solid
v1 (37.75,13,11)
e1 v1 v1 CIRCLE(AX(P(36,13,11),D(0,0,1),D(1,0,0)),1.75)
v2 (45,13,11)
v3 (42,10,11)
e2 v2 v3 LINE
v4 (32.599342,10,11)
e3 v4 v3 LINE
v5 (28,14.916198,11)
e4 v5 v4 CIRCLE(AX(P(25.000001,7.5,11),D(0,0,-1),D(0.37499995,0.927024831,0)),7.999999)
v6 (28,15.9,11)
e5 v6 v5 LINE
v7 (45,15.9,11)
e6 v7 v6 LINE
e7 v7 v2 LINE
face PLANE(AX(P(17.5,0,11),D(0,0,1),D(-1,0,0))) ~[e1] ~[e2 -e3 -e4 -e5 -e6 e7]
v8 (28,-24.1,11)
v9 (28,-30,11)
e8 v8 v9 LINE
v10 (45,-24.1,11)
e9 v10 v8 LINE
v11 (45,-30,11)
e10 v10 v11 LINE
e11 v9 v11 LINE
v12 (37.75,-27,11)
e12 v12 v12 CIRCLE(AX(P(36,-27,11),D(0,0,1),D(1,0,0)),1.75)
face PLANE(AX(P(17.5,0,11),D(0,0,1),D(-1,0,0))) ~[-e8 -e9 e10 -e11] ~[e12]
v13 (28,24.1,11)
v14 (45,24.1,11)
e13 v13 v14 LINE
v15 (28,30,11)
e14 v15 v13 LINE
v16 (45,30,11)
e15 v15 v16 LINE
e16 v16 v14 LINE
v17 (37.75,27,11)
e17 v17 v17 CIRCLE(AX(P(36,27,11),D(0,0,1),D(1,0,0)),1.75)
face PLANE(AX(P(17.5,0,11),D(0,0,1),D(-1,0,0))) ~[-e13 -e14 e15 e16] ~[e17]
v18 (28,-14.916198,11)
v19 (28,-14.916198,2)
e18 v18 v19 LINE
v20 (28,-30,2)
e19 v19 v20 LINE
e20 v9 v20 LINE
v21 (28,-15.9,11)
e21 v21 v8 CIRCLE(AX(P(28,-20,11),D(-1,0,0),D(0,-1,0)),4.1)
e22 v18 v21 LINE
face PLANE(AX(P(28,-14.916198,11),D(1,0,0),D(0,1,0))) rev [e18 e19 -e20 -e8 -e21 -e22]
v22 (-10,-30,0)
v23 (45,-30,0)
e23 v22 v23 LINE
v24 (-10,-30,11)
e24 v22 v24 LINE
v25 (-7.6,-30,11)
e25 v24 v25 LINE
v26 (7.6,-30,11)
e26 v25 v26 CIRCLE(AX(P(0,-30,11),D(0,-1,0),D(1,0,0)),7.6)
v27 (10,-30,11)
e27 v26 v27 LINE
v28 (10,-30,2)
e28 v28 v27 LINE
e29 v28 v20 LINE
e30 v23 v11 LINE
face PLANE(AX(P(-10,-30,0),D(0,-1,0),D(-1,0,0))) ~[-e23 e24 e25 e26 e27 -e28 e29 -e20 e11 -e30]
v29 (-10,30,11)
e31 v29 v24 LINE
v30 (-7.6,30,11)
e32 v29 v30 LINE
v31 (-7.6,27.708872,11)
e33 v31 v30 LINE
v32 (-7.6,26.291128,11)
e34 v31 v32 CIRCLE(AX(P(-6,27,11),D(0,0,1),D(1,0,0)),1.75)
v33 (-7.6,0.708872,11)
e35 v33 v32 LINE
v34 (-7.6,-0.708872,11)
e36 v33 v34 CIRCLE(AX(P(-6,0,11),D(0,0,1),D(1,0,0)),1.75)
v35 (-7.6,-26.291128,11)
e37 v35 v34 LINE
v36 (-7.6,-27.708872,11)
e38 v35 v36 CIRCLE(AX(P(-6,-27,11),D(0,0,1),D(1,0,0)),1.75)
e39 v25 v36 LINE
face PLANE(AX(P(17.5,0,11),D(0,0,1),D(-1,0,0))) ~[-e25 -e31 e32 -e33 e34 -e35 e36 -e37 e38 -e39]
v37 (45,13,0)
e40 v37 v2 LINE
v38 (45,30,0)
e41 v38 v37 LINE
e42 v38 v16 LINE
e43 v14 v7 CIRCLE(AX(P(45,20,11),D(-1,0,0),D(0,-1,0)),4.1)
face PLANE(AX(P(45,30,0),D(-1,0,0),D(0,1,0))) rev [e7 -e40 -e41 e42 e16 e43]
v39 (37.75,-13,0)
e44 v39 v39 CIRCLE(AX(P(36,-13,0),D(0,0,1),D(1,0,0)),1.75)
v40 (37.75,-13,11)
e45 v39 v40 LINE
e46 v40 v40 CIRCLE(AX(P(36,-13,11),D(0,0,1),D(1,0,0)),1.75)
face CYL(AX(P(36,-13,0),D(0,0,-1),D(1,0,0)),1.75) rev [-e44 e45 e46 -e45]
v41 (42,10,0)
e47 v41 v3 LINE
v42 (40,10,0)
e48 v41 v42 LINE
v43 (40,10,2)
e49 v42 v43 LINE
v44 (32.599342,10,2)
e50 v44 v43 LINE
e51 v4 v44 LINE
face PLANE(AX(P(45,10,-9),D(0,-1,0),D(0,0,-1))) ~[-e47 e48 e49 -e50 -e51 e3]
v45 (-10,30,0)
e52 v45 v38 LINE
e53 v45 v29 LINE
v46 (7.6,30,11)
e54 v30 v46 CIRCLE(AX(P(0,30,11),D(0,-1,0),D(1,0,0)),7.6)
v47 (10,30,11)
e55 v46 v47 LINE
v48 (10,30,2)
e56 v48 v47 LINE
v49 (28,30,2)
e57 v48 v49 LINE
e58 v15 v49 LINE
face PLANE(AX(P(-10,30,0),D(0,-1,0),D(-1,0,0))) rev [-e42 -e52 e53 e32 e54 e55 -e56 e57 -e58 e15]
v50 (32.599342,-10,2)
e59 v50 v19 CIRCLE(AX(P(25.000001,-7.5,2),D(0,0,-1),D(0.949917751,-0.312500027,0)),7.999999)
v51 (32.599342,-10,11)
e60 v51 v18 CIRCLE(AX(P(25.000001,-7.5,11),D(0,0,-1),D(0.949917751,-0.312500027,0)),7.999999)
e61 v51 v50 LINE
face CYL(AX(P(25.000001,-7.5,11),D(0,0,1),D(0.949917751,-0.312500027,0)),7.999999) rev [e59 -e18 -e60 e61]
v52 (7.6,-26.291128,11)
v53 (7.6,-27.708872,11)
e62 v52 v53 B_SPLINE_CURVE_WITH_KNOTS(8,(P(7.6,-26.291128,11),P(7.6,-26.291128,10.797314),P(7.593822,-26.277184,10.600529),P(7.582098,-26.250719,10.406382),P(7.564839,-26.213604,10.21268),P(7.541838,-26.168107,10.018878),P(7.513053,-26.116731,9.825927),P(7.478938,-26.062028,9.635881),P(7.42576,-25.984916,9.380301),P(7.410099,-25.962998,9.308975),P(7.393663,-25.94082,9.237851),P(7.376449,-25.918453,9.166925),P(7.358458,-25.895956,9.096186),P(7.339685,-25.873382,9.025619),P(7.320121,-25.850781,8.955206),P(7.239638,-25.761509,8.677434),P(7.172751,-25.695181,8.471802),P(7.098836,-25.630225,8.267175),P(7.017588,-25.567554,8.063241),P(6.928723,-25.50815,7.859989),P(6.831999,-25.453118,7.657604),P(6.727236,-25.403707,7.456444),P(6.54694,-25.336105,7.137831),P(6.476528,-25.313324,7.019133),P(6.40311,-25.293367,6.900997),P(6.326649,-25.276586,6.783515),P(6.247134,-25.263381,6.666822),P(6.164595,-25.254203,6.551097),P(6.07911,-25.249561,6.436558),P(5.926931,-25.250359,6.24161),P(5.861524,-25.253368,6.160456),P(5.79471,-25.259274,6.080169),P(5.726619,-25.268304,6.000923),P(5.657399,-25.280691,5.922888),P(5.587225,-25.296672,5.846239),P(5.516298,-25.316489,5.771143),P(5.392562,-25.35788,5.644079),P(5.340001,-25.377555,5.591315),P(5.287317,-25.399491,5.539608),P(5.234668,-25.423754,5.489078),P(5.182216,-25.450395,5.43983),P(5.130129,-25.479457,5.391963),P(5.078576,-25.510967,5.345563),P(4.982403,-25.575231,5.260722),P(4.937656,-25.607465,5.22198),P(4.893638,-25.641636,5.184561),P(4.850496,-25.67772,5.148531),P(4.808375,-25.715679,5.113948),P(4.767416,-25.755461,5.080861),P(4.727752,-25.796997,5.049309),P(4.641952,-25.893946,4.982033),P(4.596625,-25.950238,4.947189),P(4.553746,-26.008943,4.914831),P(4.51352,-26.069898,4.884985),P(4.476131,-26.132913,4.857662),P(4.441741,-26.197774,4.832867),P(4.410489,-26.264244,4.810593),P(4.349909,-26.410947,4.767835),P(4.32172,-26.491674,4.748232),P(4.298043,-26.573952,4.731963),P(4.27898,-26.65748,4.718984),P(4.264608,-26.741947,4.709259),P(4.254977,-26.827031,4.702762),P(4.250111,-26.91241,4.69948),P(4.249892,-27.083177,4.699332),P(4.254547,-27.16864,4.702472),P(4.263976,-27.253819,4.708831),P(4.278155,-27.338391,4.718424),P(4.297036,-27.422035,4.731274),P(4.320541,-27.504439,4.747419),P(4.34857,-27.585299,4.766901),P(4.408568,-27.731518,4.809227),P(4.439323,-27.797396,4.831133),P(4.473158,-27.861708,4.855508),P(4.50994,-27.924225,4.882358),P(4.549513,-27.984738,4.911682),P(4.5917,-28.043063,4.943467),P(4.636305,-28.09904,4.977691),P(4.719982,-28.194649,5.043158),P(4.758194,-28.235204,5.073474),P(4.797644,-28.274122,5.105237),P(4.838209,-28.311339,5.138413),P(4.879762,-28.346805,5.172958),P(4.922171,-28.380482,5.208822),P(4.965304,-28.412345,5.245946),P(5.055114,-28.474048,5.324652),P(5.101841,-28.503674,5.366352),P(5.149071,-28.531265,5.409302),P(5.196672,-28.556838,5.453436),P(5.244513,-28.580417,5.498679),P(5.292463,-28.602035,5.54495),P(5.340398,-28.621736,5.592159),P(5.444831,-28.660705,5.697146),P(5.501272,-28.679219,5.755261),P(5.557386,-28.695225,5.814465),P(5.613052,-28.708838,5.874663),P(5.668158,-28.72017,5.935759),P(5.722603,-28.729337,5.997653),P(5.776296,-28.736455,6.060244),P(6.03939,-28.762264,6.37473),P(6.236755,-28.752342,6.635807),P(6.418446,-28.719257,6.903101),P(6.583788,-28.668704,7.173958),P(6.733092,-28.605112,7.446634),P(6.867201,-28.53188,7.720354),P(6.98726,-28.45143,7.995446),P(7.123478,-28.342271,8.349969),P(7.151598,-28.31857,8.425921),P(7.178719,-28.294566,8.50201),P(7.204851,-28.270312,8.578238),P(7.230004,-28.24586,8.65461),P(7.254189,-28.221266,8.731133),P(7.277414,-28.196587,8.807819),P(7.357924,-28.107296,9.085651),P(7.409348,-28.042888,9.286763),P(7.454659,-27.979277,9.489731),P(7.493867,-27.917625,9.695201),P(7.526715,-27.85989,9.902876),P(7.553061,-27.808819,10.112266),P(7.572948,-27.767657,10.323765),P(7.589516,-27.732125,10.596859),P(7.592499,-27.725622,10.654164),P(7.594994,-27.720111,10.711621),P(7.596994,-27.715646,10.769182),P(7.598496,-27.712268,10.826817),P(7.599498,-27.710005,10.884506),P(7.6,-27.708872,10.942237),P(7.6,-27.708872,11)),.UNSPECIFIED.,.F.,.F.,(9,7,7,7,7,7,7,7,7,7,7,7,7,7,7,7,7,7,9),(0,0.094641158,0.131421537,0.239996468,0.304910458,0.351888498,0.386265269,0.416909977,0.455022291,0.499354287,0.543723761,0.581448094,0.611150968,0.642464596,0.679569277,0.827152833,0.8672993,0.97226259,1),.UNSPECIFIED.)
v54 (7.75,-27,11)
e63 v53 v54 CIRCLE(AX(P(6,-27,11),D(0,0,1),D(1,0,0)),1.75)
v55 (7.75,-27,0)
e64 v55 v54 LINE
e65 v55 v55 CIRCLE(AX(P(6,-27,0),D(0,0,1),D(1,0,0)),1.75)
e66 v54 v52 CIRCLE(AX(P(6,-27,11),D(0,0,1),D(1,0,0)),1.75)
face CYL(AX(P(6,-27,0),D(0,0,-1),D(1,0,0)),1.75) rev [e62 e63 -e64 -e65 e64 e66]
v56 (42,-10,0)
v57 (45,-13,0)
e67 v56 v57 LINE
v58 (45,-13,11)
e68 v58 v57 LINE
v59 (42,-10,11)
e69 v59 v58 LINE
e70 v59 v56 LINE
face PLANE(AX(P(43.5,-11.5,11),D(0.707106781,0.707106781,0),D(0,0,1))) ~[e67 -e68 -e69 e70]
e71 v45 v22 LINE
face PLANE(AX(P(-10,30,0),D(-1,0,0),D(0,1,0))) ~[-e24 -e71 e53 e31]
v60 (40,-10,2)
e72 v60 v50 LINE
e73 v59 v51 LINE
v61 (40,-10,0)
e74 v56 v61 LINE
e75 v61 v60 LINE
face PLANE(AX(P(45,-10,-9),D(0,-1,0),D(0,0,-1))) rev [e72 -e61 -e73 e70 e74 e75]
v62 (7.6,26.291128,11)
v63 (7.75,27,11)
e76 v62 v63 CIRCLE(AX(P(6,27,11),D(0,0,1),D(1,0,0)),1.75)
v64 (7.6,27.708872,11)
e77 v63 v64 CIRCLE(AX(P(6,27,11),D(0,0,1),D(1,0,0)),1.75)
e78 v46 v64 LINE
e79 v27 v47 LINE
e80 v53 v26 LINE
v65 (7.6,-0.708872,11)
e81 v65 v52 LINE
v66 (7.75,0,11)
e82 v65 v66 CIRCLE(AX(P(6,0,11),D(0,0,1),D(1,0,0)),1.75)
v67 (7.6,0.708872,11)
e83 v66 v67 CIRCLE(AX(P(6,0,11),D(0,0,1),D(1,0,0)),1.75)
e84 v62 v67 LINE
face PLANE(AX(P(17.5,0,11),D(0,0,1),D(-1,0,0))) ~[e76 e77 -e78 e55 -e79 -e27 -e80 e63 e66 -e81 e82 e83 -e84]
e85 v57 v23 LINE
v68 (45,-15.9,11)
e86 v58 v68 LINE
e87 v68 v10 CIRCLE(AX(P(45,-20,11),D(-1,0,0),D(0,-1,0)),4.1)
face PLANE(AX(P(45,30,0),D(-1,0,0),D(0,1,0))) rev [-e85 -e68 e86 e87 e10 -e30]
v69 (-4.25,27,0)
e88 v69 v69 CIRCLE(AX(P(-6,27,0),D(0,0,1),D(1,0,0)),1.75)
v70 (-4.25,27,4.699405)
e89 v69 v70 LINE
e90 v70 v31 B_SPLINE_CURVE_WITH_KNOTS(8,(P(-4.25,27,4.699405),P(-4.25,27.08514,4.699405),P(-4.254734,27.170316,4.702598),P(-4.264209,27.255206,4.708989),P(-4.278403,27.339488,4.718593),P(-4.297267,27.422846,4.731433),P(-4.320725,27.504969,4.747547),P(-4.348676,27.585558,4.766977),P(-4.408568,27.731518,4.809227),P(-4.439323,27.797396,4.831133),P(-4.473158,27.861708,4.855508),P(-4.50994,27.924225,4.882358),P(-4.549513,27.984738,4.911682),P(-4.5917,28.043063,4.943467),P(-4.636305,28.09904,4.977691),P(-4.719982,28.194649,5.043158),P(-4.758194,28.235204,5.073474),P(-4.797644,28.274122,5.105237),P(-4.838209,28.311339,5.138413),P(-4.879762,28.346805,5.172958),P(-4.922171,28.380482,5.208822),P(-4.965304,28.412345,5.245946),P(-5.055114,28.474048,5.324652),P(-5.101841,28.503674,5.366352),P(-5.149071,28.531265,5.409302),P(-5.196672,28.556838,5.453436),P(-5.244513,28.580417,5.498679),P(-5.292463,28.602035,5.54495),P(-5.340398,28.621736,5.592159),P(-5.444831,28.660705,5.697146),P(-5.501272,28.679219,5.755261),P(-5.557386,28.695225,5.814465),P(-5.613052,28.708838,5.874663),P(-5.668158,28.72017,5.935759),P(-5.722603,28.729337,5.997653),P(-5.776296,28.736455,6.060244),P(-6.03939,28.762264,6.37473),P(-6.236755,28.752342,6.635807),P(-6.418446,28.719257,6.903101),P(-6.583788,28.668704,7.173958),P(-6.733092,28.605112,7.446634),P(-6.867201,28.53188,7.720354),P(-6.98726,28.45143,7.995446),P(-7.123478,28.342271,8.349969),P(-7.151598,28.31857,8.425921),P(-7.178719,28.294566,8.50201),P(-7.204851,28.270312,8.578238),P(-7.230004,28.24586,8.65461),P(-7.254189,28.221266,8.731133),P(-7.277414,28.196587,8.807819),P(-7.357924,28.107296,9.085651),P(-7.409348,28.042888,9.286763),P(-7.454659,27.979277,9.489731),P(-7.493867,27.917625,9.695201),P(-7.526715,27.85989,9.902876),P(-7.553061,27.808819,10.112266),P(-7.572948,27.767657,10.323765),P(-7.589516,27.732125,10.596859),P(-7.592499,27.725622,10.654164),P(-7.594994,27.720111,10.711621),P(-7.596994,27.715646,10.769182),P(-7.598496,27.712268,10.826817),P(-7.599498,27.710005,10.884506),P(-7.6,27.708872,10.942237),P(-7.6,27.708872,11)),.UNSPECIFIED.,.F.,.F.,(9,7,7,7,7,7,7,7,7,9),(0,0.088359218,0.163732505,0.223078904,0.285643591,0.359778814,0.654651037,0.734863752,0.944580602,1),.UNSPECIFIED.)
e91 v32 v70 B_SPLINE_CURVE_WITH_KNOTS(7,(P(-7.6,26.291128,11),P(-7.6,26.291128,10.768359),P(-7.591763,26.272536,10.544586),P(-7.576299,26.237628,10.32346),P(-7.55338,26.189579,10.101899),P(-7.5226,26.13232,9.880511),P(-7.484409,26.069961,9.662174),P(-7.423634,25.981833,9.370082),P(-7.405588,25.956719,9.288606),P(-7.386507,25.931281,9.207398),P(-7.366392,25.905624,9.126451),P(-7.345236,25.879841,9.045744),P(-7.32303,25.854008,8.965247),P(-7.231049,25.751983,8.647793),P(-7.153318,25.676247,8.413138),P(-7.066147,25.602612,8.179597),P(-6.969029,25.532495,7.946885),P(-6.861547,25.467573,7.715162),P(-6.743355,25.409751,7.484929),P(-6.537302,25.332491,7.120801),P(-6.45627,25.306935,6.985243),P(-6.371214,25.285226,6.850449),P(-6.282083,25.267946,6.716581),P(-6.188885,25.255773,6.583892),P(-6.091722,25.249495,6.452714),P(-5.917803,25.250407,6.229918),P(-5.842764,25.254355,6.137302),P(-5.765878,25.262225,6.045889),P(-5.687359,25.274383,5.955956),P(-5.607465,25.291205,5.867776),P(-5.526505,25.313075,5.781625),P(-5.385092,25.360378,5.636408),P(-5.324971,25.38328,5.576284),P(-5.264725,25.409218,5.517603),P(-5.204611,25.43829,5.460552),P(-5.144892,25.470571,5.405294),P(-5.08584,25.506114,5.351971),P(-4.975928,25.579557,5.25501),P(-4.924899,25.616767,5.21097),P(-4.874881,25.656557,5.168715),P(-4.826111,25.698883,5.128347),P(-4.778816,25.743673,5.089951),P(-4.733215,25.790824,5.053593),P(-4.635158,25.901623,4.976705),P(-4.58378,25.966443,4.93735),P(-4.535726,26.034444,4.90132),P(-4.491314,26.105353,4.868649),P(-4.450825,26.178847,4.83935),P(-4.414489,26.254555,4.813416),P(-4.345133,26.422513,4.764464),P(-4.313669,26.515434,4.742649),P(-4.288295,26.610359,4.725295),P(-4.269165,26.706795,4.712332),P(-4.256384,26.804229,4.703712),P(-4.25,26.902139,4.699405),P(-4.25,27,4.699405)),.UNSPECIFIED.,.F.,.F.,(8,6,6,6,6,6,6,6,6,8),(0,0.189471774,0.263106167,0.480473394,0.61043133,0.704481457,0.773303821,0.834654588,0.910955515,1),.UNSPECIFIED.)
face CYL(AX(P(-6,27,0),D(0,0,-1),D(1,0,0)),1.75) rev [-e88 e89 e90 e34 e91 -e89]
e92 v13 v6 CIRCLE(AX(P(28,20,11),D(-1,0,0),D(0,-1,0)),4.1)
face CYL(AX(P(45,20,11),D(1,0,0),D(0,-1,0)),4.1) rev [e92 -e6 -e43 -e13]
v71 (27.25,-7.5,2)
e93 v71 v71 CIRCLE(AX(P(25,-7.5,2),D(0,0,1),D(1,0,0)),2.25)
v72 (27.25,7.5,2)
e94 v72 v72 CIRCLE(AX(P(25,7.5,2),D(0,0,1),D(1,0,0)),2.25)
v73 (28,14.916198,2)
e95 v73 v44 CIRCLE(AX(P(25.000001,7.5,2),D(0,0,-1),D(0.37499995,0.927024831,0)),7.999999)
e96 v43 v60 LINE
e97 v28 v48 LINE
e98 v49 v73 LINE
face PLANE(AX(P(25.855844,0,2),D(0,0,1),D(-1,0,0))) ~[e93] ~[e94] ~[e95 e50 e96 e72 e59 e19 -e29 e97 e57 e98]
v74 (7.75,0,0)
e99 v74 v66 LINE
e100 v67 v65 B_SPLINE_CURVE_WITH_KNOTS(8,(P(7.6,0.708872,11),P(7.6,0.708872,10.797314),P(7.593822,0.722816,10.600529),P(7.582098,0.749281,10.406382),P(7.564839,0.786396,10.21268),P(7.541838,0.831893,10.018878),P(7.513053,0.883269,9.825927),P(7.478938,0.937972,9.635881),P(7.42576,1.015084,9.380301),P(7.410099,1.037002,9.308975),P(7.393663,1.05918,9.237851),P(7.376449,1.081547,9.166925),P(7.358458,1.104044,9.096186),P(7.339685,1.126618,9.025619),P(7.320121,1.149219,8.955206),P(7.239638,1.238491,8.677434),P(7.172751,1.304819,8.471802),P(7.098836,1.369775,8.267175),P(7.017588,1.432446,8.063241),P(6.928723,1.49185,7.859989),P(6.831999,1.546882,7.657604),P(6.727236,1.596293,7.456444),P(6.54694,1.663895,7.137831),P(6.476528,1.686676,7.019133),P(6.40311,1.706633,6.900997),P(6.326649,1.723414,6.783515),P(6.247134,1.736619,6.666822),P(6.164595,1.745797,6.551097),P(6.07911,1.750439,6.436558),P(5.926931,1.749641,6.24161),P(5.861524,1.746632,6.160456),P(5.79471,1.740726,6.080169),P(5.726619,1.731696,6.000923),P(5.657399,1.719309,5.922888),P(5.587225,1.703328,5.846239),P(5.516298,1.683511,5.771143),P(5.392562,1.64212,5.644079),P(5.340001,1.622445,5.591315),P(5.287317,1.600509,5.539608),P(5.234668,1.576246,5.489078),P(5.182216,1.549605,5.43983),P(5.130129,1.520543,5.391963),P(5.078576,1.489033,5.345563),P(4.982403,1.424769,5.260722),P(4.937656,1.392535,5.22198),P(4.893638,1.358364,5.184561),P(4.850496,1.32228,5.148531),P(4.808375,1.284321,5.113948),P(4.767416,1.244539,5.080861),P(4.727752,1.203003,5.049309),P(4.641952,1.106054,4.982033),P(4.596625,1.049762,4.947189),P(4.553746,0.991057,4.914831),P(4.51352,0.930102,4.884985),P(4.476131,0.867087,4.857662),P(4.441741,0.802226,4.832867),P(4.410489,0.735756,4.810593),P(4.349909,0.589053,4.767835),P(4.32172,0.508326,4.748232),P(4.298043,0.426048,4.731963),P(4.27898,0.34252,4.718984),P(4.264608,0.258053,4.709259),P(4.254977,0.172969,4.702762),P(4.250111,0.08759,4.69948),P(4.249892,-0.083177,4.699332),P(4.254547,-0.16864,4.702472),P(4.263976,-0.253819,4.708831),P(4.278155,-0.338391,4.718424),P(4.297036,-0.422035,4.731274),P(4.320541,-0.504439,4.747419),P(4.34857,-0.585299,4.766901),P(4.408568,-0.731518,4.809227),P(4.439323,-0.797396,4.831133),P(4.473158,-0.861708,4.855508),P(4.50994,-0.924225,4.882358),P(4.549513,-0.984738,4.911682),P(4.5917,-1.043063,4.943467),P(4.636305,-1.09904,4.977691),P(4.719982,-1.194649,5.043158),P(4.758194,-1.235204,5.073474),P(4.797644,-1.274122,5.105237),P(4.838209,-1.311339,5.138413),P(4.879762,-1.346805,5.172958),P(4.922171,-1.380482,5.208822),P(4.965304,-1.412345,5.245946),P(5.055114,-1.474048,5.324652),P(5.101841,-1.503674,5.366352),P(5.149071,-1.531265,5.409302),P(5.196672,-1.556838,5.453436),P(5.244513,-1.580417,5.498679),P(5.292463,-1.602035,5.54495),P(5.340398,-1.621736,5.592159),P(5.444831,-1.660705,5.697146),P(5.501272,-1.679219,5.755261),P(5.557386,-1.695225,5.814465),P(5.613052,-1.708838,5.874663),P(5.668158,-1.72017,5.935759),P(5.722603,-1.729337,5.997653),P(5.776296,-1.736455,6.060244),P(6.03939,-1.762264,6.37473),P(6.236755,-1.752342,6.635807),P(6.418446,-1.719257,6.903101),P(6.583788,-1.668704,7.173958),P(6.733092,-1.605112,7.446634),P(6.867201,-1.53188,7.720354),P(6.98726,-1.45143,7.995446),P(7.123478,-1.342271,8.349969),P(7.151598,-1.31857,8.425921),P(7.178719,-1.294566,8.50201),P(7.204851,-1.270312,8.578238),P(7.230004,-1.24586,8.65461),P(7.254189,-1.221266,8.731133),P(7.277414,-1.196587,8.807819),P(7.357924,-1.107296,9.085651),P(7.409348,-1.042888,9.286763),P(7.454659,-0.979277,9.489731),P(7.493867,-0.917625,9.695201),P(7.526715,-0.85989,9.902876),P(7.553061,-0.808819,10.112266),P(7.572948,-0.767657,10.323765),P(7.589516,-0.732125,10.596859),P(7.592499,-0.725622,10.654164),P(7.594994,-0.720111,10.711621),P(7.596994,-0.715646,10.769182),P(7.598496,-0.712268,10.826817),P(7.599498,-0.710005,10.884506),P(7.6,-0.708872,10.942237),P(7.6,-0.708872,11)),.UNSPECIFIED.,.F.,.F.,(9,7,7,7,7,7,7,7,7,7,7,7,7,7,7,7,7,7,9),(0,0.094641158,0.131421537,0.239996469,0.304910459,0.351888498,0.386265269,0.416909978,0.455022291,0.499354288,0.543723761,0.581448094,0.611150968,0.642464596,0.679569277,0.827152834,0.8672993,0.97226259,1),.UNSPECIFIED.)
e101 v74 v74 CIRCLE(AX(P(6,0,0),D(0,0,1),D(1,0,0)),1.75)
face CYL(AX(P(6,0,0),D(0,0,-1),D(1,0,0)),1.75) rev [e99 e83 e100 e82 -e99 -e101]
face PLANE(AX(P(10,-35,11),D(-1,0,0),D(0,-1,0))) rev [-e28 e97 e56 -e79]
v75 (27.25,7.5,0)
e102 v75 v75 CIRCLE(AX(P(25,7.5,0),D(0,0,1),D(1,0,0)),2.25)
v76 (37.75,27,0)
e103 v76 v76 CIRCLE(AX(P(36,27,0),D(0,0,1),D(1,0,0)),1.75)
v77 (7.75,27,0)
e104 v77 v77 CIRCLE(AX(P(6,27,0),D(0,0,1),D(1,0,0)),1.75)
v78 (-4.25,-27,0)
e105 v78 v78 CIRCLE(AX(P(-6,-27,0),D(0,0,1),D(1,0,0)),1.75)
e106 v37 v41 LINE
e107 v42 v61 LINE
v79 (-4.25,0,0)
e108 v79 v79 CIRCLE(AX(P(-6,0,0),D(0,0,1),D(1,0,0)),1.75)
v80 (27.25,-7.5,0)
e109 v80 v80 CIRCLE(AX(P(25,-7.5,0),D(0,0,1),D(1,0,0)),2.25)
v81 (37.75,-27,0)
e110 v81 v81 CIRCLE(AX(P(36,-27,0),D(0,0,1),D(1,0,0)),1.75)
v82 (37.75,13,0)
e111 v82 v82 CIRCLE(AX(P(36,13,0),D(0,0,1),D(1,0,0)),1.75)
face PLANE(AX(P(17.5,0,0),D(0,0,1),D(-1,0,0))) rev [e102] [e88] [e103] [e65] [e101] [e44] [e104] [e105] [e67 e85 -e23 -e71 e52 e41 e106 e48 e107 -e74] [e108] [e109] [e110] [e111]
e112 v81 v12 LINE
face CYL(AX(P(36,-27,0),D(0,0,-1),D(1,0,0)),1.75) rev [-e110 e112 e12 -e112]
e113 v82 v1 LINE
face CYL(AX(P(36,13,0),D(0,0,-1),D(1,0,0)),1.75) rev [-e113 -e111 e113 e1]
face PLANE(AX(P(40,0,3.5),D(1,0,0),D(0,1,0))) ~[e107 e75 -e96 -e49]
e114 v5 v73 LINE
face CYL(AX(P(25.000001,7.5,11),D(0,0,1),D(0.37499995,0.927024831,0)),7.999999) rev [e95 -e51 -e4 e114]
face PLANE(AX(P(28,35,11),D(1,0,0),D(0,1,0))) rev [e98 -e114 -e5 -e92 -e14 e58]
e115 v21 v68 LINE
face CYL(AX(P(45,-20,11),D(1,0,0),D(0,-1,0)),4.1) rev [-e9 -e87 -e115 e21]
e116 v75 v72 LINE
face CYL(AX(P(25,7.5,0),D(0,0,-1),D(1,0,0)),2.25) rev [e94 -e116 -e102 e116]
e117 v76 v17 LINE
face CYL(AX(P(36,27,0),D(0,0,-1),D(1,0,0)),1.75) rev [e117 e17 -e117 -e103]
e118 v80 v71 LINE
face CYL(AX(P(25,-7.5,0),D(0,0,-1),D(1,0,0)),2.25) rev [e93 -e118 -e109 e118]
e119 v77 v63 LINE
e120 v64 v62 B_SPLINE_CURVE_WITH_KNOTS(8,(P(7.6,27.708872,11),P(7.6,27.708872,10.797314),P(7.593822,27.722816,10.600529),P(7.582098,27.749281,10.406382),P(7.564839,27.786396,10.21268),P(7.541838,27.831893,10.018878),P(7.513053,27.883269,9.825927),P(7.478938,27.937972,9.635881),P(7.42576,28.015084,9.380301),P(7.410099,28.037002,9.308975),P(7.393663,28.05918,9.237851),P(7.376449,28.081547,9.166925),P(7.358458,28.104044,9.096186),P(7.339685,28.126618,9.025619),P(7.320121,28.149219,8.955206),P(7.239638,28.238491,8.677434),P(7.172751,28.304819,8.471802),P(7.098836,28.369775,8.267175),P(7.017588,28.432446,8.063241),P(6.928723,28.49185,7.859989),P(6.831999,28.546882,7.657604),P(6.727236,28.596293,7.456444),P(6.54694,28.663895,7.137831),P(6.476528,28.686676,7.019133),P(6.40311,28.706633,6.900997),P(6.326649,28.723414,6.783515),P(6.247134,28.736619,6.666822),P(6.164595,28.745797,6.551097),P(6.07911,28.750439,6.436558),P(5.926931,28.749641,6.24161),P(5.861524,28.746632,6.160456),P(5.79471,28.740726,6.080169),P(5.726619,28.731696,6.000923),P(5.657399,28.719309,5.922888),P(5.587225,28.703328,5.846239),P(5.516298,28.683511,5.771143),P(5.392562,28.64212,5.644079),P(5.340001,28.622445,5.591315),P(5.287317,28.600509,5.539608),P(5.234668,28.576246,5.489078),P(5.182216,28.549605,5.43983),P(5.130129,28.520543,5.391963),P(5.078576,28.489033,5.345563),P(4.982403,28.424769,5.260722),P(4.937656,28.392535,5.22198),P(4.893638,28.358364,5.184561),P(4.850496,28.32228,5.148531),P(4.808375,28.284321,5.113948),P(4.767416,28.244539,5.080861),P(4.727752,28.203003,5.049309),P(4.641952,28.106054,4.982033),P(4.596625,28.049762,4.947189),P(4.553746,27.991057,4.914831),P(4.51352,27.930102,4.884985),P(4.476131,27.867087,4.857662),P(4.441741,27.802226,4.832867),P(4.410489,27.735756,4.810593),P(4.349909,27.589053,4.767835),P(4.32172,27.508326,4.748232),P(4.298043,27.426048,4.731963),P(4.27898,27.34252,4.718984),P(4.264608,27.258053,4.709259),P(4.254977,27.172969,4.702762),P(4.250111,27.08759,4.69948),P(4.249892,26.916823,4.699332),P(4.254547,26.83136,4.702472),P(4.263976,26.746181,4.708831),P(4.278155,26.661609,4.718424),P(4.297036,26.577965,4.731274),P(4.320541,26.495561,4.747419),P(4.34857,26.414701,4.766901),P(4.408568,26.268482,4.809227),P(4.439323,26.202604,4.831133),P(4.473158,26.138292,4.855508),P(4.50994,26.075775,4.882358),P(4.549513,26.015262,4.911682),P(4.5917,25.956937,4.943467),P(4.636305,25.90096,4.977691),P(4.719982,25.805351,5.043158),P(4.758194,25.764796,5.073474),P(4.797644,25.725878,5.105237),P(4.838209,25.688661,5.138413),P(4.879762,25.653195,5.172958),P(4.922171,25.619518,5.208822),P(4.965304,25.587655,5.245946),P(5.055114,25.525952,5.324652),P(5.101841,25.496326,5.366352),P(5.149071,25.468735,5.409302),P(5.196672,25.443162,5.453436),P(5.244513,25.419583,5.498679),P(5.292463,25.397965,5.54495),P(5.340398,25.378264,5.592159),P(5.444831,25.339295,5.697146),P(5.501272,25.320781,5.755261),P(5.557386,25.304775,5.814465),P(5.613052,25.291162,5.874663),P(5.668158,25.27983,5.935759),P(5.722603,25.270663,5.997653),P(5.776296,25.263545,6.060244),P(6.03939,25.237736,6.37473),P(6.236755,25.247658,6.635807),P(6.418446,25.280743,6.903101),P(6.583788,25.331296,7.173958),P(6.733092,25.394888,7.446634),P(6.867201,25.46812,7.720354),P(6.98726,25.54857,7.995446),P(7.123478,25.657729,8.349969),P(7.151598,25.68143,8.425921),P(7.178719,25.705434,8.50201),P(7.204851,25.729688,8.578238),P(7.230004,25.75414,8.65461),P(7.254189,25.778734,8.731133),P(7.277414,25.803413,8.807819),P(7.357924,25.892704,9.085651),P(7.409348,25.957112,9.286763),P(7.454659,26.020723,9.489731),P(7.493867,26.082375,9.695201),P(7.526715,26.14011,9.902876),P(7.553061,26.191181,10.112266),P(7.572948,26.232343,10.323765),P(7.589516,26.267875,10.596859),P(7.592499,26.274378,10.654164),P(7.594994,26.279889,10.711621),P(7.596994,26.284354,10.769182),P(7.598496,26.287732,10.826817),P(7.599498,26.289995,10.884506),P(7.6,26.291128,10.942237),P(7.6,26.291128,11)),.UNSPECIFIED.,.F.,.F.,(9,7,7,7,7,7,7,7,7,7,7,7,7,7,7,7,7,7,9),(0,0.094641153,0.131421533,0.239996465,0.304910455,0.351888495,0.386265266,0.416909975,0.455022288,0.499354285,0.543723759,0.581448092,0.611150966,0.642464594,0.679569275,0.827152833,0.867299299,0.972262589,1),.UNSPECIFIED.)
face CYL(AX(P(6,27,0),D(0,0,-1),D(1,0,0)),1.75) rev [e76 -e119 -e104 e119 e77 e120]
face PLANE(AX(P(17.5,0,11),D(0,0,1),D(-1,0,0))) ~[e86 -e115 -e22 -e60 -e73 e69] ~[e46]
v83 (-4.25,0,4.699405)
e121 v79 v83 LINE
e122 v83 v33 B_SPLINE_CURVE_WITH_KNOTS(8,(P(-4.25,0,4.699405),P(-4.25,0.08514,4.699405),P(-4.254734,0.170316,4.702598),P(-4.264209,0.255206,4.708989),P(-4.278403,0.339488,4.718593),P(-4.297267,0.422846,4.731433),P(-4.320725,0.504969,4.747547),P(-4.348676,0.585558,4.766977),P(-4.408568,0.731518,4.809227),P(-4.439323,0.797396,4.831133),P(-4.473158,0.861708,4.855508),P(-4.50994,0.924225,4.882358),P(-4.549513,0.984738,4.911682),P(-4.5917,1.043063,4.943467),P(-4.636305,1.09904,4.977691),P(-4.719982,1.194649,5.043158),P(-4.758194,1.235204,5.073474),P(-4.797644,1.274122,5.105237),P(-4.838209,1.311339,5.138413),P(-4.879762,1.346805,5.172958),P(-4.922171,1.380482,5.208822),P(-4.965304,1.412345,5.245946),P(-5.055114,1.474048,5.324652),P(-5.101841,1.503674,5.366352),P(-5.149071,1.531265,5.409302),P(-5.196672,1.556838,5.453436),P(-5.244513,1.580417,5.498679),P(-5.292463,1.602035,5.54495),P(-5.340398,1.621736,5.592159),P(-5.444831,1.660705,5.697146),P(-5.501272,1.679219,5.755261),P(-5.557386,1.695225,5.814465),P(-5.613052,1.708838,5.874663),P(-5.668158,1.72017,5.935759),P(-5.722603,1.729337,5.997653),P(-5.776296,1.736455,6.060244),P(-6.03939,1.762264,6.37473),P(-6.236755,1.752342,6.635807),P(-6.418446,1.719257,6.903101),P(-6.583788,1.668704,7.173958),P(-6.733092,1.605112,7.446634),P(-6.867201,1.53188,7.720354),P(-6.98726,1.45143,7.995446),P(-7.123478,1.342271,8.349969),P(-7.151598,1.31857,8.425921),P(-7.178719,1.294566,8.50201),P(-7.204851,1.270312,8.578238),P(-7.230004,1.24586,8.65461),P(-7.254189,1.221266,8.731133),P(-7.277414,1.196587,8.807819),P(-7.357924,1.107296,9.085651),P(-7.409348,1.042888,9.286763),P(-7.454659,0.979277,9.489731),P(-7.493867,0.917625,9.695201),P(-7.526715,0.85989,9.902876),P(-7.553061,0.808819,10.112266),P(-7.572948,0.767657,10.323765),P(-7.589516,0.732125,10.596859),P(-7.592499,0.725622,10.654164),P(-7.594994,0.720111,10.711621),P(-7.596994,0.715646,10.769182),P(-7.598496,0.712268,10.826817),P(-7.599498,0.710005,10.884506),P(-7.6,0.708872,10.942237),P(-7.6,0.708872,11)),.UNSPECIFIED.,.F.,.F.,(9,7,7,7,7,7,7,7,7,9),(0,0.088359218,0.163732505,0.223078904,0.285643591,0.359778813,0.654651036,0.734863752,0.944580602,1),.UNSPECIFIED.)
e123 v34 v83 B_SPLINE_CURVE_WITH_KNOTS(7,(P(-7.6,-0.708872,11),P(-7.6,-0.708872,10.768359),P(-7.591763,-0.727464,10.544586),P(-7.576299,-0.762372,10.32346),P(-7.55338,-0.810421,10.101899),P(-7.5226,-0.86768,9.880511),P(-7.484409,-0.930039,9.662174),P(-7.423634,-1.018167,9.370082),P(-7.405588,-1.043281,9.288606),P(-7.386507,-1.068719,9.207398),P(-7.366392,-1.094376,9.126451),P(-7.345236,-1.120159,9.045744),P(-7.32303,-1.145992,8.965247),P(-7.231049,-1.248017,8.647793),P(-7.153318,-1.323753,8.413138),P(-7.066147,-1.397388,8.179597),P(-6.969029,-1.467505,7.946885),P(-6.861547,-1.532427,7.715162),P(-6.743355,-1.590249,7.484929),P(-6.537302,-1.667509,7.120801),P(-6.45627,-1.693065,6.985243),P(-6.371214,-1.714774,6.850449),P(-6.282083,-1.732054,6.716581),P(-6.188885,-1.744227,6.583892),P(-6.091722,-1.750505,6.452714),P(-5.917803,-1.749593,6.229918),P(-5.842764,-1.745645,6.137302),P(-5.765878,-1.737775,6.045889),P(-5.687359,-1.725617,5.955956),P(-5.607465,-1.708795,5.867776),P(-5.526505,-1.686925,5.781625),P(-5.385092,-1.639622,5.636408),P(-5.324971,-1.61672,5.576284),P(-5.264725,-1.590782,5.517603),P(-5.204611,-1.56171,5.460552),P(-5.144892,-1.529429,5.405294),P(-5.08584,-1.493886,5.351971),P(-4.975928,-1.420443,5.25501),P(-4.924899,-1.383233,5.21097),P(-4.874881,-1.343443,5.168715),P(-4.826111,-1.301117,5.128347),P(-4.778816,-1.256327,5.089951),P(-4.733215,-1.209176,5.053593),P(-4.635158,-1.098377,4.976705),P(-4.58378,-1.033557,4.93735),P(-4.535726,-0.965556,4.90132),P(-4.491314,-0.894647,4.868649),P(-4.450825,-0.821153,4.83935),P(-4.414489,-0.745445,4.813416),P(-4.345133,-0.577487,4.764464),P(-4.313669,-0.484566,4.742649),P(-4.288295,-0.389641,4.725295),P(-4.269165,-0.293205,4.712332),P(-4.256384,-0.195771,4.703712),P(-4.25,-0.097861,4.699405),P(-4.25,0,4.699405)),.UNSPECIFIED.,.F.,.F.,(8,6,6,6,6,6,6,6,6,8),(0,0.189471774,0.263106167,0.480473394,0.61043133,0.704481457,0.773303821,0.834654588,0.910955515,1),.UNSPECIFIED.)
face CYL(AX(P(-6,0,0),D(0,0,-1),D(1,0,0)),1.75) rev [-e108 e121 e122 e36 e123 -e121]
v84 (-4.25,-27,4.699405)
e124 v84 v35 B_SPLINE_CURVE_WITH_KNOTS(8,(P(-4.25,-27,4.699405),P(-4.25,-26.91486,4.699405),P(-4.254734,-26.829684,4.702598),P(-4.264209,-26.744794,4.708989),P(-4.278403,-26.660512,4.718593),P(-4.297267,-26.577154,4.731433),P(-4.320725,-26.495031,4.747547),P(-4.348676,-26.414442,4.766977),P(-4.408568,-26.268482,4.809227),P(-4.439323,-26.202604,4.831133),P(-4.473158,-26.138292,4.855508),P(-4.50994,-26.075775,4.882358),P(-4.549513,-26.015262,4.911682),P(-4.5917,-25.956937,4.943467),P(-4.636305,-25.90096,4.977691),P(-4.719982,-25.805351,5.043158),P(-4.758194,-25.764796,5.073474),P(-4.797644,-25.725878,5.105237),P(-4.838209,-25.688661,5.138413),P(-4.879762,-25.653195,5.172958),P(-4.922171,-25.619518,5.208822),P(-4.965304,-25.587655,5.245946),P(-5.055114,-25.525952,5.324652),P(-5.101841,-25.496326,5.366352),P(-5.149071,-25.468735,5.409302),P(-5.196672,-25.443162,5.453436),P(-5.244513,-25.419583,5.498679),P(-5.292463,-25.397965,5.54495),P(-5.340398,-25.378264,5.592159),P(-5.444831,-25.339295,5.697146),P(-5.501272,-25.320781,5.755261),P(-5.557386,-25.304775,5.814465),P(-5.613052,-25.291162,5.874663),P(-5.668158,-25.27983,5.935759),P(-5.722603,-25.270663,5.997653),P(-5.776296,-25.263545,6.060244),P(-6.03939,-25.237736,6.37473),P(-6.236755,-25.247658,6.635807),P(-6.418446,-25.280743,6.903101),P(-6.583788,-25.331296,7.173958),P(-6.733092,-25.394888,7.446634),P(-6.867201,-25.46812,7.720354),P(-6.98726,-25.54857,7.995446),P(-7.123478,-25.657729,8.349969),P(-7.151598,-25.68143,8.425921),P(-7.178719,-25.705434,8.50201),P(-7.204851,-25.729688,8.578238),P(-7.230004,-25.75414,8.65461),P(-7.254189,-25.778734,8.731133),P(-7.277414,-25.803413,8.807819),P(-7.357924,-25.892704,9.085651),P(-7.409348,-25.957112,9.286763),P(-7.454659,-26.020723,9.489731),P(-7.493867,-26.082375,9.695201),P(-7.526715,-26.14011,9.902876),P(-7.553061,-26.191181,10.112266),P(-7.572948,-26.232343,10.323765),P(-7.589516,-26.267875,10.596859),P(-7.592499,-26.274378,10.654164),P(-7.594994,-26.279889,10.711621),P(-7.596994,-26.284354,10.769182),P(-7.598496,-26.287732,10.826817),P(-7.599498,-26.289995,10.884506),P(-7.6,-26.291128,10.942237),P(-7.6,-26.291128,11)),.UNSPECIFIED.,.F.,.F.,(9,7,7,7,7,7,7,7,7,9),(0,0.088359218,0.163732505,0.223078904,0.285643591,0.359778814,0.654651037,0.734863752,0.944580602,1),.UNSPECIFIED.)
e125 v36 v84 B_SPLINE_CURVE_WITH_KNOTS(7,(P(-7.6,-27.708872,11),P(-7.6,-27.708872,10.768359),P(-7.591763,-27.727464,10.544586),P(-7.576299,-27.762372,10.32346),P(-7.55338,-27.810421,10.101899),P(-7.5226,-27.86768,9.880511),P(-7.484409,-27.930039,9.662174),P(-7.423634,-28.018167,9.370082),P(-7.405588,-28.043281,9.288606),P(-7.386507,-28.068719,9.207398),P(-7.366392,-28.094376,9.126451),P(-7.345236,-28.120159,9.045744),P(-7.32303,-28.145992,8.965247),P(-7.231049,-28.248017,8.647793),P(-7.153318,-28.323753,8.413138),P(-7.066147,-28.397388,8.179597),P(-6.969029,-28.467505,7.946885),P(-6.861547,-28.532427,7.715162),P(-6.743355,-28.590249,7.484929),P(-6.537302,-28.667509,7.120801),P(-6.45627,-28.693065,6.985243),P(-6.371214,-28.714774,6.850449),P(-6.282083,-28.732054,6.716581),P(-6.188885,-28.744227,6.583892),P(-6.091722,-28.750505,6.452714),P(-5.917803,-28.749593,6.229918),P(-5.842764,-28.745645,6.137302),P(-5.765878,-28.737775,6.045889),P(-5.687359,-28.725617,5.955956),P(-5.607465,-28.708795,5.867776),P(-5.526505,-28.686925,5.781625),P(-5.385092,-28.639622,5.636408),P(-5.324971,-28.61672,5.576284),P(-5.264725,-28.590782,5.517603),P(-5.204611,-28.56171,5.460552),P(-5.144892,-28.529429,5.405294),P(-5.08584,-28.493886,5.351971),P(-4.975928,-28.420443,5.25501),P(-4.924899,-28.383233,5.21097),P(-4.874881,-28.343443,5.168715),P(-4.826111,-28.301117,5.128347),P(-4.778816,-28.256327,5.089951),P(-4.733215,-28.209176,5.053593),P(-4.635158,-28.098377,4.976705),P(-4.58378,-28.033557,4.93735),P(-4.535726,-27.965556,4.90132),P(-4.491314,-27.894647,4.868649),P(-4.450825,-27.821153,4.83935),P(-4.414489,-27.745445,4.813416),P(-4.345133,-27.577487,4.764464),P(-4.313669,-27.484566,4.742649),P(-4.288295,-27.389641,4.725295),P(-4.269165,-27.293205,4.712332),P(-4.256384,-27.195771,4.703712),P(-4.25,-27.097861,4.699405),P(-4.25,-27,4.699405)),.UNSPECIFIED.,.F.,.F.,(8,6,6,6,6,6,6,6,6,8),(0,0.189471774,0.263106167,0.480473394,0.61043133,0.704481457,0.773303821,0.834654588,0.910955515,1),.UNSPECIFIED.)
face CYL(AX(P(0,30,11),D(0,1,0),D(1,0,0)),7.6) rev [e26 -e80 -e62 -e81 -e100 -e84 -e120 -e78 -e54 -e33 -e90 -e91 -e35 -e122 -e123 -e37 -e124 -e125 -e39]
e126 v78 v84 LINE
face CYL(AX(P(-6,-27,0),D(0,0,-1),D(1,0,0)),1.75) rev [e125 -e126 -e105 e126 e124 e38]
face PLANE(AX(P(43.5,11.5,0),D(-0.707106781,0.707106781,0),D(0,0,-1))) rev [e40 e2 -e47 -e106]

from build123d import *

# Parameters (mm, degrees)
SKETCH_W                       = 55
SKETCH_H                       = 60
PAD_DEPTH                      = 11
SKETCH001_R                    = 7.6
POCKET_DEPTH                   = 60.001
SKETCH002_R                    = 1.75
POCKET001_DEPTH                = 11.001
POCKET002_DEPTH                = 9
SKETCH004_R                    = 2.25
POCKET003_DEPTH                = 11.001
SKETCH008_R                    = 4.1
POCKET005_DEPTH                = 20
SKETCH010_W                    = 20
SKETCH010_H                    = 25
POCKET006_DEPTH                = 5
CHAMFER_SIZE                   = 3
CHAMFER001_SIZE                = 3
PART_MIRRORING_PLACEMENT_ANGLE = 180


with BuildPart() as chamfer002:
    # Sketch → Pad (new body)
    with BuildSketch(Plane.XY):
        with Locations((17.5, 0)):
            Rectangle(SKETCH_W, SKETCH_H)
    extrude(amount=PAD_DEPTH)

    # Sketch001 → Pocket (cut, through all)
    with BuildSketch(Plane.XZ.offset(30)):
        with Locations((0, 11)):
            Circle(SKETCH001_R)
    extrude(amount=-POCKET_DEPTH, mode=Mode.SUBTRACT)

    # Sketch002 → Pocket001 (cut, through all)
    with BuildSketch(Plane(origin=(0, 0, 0), x_dir=(1, 0, 0), z_dir=(0, 0, -1))):
        with Locations((-6, 27)):
            Circle(SKETCH002_R)
        with Locations((36, 27)):
            Circle(SKETCH002_R)
        with Locations((-6, -27)):
            Circle(SKETCH002_R)
        with Locations((36, -27)):
            Circle(SKETCH002_R)
        with Locations((6, 27)):
            Circle(SKETCH002_R)
        with Locations((6, -27)):
            Circle(SKETCH002_R)
        with Locations((6, 0)):
            Circle(SKETCH002_R)
        with Locations((-6, 0)):
            Circle(SKETCH002_R)
        with Locations((36, -13)):
            Circle(SKETCH002_R)
        with Locations((36, 13)):
            Circle(SKETCH002_R)
    extrude(amount=-POCKET001_DEPTH, mode=Mode.SUBTRACT)

    # Sketch003 → Pocket002 (cut)
    with BuildSketch(Plane.XY.offset(11)):
        with BuildLine():
            Line((10, 35), (10, -35))
            Line((10, -35), (28, -35))
            Line((28, -35), (28, -14.916198))
            ThreePointArc((28, -14.916198), (30.841983, -12.965458), (32.599342, -10))
            Line((32.599342, -10), (52.599342, -10))
            Line((52.599342, -10), (52.599342, 10))
            Line((52.599342, 10), (32.599342, 10))
            ThreePointArc((32.599342, 10), (30.841983, 12.965458), (28, 14.916198))
            Line((28, 14.916198), (28, 35))
            Line((28, 35), (10, 35))
        make_face()
    extrude(amount=-POCKET002_DEPTH, mode=Mode.SUBTRACT)

    # Sketch004 → Pocket003 (cut, through all)
    with BuildSketch(Plane(origin=(0, 0, 0), x_dir=(1, 0, 0), z_dir=(0, 0, -1))):
        with Locations((25, 7.5)):
            Circle(SKETCH004_R)
        with Locations((25, -7.5)):
            Circle(SKETCH004_R)
    extrude(amount=-POCKET003_DEPTH, mode=Mode.SUBTRACT)

    # Sketch008 → Pocket005 (cut)
    with BuildSketch(Plane.YZ.offset(45)):
        with Locations((-20, 11)):
            Circle(SKETCH008_R)
        with Locations((20, 11)):
            Circle(SKETCH008_R)
    extrude(amount=-POCKET005_DEPTH, mode=Mode.SUBTRACT)

    # Sketch010 → Pocket006 (cut)
    with BuildSketch(Plane.YZ.offset(45)):
        with Locations((0, 3.5)):
            Rectangle(SKETCH010_W, SKETCH010_H)
    extrude(amount=-POCKET006_DEPTH, mode=Mode.SUBTRACT)

    # Chamfer
    chamfer_edges = [chamfer002.edges().sort_by_distance(p)[0] for p in [
        (45, -10, 6.5),
    ]]
    chamfer(chamfer_edges, length=CHAMFER_SIZE)

    # Chamfer001
    chamfer001_edges = [chamfer002.edges().sort_by_distance(p)[0] for p in [
        (45, 10, 6.5),
    ]]
    chamfer(chamfer001_edges, length=CHAMFER001_SIZE)


with BuildPart() as xy_block_top:
    # Part__Mirroring: instance of Chamfer002
    add(chamfer002.part.mirror(Plane(origin=(0, 0, 0), x_dir=(0, 1, 0), z_dir=(0, 0, 1))))


with BuildPart() as xy_block_top_1:
    # Part__Mirroring placement: moved
    add(xy_block_top.part.rotate(Axis((0, 0, 0), (1, 0, 0)), PART_MIRRORING_PLACEMENT_ANGLE))


solid = xy_block_top_1.part
